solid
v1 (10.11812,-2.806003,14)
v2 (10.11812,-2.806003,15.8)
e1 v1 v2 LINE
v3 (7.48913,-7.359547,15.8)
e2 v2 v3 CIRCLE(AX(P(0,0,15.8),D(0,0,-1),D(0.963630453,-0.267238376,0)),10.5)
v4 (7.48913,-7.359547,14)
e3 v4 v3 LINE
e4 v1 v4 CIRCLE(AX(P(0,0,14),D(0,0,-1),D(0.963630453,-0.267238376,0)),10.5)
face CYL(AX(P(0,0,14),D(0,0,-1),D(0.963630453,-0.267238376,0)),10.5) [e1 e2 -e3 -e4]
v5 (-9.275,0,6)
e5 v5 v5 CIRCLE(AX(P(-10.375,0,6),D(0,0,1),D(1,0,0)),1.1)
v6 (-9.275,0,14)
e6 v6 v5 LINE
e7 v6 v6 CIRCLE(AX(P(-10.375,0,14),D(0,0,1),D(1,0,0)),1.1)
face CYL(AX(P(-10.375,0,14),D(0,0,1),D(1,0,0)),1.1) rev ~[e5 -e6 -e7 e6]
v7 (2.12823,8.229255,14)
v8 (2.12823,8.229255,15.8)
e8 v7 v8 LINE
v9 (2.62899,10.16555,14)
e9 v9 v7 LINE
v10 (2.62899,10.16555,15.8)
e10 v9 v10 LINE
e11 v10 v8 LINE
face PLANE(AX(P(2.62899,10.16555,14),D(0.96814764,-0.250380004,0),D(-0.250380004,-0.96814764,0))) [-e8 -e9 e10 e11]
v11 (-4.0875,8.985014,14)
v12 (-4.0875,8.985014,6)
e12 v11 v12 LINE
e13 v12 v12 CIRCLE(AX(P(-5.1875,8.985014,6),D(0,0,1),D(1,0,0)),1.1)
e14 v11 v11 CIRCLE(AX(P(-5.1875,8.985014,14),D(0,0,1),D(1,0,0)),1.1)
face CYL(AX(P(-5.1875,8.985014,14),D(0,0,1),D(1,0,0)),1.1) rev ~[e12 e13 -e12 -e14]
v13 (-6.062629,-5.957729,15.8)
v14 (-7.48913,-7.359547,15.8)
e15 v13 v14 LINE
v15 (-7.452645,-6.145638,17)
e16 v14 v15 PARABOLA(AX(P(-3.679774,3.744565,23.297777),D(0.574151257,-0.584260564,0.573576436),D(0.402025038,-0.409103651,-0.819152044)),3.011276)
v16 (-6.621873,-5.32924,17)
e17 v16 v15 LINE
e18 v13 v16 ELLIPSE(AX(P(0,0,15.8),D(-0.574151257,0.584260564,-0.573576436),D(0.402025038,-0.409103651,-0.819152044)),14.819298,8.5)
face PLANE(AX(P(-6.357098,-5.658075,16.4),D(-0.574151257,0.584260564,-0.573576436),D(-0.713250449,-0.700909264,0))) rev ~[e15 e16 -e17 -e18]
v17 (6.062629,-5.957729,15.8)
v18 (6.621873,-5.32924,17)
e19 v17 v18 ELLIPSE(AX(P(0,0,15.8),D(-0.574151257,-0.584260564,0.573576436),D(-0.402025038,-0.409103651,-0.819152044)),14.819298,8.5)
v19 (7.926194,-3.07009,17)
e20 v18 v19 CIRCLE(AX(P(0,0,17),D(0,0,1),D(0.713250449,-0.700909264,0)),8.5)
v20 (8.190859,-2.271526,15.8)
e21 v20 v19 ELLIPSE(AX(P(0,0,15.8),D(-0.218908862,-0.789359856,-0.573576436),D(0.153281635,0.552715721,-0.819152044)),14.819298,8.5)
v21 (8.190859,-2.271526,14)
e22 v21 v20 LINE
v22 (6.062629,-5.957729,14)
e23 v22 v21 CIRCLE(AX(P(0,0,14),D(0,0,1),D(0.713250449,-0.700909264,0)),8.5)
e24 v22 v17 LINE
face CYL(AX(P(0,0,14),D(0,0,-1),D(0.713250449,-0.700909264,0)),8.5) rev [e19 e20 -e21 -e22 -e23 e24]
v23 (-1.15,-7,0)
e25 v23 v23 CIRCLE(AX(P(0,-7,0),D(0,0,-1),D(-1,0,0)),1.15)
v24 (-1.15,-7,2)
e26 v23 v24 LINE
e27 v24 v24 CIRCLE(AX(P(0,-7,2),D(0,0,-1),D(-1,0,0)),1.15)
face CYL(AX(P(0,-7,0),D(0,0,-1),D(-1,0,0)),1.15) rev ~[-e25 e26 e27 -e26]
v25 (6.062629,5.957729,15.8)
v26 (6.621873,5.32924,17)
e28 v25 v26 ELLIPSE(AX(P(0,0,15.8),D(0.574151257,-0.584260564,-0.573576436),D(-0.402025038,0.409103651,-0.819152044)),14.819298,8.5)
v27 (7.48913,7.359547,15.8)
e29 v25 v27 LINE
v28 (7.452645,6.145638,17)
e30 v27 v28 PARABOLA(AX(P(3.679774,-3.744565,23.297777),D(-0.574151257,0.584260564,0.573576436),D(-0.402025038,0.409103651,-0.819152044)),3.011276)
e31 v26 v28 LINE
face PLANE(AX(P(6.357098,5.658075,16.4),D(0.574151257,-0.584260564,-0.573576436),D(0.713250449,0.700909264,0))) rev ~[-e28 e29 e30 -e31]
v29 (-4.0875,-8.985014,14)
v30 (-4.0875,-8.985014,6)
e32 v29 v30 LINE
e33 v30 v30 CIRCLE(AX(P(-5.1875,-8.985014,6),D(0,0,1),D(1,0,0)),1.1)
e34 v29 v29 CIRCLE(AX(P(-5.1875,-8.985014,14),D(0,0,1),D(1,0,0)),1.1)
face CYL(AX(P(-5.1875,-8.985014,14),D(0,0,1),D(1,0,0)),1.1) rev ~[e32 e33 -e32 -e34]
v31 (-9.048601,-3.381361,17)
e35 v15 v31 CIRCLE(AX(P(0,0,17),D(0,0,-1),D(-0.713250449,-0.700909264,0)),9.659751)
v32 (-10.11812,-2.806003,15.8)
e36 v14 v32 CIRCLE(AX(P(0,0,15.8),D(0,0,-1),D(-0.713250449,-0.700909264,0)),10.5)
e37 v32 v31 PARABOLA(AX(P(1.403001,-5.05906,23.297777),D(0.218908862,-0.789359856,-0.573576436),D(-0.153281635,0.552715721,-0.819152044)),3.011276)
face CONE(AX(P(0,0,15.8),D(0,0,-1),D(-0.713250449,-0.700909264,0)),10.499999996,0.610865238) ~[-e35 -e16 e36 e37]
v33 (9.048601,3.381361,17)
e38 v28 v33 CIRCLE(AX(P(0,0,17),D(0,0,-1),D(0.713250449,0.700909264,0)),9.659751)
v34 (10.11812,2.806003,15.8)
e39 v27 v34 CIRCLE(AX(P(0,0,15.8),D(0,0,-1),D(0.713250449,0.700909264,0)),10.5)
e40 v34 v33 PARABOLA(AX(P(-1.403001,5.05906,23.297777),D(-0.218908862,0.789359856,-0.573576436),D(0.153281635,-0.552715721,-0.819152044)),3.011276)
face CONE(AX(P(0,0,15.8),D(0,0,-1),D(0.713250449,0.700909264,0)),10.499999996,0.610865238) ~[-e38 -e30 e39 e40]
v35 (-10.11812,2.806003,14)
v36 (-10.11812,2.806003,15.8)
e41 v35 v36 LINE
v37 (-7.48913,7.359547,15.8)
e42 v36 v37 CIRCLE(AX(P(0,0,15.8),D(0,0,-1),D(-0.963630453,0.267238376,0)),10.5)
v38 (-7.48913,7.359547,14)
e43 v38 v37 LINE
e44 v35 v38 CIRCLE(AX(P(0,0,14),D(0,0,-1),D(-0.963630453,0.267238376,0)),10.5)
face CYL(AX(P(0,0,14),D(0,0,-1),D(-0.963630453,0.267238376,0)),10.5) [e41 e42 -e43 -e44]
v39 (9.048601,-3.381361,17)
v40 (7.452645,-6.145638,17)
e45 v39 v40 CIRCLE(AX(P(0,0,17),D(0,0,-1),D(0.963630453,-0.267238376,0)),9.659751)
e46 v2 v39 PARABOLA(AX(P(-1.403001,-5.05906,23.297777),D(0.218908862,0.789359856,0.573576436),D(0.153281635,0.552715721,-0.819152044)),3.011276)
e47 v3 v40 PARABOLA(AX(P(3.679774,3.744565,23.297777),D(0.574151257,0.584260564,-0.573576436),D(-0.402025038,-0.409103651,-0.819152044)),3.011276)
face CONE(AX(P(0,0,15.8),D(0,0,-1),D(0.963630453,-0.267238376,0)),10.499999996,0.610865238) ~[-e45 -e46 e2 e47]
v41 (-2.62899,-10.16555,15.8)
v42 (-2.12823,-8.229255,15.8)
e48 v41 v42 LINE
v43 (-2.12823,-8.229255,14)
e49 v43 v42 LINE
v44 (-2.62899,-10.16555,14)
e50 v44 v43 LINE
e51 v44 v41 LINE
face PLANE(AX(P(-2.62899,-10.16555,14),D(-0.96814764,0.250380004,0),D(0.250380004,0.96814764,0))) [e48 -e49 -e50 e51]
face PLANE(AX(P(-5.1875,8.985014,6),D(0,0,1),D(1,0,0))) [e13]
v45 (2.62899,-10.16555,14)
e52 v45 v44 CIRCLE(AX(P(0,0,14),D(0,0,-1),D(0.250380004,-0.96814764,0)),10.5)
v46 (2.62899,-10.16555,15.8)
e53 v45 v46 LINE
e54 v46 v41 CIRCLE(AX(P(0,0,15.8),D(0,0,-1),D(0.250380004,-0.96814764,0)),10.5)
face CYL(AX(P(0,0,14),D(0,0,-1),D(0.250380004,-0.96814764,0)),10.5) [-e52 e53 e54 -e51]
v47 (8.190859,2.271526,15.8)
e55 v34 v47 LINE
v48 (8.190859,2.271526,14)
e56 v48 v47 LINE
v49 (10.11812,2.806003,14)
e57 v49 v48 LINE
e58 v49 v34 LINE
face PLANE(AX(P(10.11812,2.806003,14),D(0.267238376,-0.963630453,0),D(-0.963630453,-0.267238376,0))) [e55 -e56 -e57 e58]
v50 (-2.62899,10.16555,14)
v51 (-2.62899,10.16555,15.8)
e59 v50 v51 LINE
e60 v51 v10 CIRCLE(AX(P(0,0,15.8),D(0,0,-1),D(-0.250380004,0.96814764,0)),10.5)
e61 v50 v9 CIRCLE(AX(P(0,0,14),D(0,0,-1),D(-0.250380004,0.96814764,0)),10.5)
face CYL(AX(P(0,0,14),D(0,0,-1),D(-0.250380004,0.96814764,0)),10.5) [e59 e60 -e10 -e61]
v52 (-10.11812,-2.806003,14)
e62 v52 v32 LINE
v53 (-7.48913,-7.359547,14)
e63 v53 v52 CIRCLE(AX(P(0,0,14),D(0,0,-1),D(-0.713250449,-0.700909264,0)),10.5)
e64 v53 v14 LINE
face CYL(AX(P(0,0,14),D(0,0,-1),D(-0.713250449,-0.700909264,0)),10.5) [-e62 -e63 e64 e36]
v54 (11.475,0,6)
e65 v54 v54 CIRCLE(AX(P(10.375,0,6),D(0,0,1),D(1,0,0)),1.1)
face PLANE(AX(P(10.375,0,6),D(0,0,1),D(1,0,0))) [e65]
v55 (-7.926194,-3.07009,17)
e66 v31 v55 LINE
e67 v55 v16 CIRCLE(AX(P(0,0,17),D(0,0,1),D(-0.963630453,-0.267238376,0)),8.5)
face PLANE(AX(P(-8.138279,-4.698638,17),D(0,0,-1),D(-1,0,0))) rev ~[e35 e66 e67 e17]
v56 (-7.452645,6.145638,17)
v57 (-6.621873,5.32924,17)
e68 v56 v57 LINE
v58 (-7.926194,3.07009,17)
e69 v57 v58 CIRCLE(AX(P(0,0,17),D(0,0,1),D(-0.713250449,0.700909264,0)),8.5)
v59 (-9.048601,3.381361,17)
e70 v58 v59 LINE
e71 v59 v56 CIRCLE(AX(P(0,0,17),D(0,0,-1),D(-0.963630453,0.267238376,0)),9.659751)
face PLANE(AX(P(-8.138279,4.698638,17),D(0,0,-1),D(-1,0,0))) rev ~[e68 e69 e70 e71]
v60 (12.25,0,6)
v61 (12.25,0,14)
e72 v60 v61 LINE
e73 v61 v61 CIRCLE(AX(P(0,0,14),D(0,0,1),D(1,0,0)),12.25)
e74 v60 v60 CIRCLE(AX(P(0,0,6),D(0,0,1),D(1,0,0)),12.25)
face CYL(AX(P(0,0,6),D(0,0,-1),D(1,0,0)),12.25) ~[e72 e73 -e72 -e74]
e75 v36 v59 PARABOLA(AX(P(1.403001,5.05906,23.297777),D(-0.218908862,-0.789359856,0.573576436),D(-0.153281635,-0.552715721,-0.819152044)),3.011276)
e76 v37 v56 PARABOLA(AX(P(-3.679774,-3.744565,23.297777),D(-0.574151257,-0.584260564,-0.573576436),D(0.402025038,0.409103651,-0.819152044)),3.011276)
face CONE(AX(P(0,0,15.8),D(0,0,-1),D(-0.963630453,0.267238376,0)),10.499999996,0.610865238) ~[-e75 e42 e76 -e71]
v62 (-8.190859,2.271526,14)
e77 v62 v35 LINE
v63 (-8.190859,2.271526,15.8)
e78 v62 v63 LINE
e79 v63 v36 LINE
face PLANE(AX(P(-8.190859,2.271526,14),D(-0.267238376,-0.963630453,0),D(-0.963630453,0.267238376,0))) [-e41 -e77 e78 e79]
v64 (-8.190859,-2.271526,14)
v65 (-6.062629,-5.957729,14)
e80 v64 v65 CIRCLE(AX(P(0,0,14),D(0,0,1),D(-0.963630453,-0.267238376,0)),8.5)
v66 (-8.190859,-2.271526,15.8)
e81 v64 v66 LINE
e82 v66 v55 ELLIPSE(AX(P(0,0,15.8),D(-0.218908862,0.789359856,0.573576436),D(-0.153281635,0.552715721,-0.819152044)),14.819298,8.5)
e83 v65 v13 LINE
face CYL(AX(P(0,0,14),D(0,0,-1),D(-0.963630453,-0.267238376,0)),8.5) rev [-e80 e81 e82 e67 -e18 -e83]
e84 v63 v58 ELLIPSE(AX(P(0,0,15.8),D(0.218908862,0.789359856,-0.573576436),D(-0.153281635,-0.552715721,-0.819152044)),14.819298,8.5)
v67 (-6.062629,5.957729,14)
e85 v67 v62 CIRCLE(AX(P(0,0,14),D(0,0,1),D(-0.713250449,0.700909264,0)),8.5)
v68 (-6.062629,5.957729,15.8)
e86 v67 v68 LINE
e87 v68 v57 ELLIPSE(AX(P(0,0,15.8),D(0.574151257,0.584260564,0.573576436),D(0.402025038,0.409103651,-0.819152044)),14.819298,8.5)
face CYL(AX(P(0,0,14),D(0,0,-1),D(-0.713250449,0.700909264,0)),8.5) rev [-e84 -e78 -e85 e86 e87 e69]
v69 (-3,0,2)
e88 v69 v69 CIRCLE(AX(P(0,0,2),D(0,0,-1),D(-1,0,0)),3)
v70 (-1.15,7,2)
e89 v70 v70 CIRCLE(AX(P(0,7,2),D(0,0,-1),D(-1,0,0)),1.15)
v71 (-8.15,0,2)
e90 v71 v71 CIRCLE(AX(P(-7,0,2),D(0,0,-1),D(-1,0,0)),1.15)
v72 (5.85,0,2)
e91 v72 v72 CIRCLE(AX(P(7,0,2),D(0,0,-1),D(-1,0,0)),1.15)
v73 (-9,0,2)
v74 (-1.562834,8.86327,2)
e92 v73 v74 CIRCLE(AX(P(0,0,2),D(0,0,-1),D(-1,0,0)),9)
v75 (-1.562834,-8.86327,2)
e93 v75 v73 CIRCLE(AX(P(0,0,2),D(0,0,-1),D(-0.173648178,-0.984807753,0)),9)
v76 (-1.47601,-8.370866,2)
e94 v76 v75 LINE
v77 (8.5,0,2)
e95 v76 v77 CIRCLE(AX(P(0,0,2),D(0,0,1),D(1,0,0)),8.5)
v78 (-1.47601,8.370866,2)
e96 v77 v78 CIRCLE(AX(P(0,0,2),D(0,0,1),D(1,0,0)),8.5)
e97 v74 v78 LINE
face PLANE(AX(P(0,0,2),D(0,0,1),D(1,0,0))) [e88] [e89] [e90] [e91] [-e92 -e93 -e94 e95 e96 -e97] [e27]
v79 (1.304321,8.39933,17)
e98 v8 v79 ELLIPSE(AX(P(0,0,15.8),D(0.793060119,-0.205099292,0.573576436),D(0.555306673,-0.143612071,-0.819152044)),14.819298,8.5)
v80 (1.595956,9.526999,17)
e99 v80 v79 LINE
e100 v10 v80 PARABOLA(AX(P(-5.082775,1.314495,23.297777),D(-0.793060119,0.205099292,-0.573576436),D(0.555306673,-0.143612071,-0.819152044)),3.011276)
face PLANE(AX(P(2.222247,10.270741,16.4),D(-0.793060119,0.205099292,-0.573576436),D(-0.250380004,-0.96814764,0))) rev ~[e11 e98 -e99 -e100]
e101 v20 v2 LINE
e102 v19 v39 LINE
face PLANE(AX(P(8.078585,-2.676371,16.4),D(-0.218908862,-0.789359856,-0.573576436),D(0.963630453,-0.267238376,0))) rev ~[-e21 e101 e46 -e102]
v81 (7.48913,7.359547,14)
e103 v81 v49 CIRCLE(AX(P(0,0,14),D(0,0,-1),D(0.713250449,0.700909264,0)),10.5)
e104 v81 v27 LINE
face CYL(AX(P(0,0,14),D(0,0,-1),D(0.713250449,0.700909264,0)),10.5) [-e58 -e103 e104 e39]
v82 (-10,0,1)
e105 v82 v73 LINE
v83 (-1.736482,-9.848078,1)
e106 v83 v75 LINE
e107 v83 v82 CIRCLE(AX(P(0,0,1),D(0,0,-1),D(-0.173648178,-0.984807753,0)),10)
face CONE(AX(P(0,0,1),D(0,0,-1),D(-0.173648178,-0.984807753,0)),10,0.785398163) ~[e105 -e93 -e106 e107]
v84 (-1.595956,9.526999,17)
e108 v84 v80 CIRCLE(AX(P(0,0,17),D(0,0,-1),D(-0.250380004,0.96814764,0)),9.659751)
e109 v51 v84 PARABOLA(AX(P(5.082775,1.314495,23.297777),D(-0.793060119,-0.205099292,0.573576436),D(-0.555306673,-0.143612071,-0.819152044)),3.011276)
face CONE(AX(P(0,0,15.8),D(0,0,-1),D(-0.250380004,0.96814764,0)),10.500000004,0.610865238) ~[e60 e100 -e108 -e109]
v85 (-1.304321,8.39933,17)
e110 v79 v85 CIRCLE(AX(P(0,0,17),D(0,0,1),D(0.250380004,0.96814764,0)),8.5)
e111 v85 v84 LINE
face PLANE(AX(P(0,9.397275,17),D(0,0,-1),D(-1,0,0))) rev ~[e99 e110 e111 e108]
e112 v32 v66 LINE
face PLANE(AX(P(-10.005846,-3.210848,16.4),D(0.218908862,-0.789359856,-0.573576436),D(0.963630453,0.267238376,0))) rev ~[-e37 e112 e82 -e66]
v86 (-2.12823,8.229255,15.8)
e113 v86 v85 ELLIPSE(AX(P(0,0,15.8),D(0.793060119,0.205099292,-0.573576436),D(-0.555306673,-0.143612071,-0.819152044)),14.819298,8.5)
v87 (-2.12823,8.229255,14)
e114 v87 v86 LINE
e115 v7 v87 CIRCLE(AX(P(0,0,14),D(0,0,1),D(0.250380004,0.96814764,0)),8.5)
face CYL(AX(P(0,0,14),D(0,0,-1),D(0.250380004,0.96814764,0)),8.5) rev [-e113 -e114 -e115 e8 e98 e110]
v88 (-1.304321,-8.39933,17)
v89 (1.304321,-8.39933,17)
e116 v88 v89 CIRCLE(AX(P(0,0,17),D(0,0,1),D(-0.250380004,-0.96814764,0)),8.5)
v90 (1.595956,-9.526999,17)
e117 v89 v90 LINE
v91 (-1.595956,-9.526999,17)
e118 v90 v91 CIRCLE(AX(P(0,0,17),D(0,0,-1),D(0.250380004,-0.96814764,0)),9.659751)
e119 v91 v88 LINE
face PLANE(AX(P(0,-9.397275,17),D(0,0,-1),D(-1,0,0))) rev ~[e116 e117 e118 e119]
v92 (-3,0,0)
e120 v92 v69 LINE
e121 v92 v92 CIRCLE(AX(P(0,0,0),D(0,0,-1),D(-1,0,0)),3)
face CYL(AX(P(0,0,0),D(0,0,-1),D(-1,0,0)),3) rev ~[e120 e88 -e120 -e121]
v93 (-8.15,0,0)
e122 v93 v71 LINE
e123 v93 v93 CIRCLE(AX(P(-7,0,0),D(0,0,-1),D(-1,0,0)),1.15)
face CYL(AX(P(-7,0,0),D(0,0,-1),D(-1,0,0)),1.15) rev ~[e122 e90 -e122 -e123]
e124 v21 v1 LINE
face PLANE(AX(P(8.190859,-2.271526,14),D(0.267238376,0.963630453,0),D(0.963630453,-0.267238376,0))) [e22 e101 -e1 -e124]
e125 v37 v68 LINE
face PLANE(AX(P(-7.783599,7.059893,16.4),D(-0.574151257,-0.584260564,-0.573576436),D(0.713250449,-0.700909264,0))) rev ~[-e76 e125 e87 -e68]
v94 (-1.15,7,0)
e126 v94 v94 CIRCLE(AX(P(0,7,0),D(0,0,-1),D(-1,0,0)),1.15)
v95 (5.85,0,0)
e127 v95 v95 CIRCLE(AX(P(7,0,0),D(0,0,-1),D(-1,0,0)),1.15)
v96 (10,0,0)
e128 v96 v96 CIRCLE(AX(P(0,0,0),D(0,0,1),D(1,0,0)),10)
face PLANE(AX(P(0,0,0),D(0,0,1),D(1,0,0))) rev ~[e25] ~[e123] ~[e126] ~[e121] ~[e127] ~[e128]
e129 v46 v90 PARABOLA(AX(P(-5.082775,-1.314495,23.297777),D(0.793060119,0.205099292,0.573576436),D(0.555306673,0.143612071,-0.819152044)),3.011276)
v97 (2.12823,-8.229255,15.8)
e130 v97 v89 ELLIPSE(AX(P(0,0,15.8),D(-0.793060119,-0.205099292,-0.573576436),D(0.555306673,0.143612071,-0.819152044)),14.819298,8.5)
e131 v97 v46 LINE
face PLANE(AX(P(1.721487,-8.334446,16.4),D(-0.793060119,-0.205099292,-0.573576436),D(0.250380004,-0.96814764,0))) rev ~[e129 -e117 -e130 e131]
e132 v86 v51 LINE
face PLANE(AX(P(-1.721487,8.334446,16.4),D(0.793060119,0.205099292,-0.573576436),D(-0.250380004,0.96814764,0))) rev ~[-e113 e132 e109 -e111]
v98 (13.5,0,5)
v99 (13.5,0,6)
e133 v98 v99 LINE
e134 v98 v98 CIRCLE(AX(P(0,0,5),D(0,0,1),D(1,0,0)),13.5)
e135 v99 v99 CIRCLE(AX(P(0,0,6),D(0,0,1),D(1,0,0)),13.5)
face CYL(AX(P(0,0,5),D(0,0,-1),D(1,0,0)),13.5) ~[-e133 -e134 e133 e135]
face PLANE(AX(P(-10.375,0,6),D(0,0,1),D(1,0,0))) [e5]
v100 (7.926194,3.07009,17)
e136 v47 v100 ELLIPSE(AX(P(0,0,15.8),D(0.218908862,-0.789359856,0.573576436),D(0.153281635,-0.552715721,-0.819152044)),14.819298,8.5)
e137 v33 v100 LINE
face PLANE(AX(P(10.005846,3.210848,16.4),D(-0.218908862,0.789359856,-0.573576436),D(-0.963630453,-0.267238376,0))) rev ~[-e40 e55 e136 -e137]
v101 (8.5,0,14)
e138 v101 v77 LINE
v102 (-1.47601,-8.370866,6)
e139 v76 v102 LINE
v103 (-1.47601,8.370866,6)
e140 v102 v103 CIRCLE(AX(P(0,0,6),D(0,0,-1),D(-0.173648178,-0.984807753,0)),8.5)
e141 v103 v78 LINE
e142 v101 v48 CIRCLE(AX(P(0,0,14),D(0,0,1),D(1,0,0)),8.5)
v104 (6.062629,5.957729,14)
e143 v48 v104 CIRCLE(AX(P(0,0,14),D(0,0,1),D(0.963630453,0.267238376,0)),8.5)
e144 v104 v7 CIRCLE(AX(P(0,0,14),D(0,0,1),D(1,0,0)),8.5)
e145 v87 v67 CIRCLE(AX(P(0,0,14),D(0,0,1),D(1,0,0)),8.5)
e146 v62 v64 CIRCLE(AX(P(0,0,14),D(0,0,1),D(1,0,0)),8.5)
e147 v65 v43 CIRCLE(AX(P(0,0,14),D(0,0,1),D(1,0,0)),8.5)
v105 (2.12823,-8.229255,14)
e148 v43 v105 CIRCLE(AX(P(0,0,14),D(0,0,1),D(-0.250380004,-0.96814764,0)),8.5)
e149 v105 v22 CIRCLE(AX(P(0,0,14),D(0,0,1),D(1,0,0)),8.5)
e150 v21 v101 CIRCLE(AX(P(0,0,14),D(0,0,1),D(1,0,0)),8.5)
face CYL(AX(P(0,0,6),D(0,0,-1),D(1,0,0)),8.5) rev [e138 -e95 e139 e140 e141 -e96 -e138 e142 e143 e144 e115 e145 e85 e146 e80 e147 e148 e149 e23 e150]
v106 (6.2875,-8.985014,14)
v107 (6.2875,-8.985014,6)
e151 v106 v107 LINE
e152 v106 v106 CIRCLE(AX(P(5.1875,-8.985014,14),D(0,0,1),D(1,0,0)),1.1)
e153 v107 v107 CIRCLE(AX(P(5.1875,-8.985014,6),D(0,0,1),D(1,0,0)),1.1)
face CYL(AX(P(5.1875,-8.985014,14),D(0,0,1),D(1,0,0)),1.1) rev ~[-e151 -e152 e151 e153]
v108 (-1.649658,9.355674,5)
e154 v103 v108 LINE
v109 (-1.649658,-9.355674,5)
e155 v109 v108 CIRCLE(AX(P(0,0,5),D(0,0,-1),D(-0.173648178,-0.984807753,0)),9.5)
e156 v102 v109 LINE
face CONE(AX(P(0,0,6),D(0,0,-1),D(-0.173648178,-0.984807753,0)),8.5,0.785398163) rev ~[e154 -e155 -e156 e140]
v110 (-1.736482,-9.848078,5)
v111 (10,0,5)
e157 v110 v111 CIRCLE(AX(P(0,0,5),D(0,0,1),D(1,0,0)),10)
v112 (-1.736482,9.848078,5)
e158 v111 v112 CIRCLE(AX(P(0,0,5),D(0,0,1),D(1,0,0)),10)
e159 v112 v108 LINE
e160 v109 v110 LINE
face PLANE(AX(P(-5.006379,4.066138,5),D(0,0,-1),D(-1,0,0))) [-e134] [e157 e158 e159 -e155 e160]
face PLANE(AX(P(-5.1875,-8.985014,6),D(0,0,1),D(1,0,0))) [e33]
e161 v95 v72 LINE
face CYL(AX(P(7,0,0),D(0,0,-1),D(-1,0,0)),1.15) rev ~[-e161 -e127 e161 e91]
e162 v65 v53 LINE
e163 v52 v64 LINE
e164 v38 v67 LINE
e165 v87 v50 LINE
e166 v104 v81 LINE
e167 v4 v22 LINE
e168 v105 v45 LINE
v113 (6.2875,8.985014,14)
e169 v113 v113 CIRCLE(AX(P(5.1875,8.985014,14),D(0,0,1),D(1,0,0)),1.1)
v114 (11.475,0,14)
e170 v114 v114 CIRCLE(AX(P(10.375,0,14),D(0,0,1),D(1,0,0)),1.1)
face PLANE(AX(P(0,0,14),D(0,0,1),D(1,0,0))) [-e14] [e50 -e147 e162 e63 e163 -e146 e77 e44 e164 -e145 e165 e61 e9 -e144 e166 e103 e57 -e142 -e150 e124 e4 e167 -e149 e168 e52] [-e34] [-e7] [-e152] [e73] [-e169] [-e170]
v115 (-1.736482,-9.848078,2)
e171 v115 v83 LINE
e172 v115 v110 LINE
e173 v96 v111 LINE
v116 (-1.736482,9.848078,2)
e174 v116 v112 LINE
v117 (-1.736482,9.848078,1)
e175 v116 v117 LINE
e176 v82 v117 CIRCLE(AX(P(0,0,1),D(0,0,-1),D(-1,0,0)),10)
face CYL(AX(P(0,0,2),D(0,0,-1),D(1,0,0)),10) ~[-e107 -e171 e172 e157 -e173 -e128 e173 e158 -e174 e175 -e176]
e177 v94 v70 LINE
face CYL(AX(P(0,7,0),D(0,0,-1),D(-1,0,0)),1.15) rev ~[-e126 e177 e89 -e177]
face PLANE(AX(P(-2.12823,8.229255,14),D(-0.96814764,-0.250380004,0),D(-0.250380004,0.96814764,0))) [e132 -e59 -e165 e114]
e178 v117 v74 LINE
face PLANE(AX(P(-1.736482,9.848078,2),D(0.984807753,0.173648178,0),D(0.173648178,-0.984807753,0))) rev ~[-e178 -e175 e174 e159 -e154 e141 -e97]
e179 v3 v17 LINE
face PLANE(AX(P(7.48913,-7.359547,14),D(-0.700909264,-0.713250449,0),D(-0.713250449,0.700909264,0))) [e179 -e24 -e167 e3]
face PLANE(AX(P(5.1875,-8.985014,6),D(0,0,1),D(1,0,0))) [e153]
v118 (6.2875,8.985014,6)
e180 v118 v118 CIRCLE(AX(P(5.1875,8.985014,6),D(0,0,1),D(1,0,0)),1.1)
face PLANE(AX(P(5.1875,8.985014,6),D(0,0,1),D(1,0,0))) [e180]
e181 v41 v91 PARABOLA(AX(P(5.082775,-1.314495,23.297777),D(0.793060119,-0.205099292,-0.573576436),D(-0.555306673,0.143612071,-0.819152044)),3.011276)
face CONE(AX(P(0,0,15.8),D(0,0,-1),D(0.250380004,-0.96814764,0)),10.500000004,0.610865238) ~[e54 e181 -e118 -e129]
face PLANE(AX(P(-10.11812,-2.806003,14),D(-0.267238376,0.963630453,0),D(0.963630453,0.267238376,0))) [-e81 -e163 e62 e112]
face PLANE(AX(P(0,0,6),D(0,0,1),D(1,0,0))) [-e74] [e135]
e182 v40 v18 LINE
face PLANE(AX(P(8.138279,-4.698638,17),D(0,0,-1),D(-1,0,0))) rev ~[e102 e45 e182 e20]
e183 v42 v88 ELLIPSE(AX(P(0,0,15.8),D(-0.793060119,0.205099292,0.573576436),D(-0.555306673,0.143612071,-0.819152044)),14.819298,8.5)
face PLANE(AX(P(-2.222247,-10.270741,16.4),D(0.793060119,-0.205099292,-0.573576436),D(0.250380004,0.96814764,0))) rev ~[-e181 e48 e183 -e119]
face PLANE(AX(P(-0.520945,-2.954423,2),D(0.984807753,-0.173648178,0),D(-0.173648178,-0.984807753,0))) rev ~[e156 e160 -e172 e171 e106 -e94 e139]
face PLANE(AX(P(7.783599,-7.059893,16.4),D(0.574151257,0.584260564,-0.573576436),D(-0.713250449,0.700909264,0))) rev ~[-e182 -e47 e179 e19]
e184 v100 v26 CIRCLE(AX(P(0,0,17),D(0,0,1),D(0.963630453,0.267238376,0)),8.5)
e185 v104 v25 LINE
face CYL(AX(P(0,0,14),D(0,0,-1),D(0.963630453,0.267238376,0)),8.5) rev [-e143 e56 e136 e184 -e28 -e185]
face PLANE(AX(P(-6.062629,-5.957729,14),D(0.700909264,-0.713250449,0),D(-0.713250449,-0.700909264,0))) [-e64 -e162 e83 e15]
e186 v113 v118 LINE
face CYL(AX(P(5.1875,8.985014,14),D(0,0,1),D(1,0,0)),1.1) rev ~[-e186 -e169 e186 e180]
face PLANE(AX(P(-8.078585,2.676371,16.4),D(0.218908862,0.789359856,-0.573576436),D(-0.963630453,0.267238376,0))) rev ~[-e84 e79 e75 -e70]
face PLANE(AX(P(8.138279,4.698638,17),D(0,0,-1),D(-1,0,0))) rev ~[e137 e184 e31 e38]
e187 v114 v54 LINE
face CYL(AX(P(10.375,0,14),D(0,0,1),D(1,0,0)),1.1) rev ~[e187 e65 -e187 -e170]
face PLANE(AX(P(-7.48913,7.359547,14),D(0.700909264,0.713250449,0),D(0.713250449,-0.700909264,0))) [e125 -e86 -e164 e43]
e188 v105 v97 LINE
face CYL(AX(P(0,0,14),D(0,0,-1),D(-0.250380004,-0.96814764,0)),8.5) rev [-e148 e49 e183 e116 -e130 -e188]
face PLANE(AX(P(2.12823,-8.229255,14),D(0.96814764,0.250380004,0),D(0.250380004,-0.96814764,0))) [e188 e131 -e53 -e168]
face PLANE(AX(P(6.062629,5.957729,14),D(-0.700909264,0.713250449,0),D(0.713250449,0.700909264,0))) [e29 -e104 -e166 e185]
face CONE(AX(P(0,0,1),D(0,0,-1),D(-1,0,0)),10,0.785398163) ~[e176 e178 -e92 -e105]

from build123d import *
from OCP.BRepFilletAPI import BRepFilletAPI_MakeChamfer

# Parameters (mm, degrees)
SKETCH_1_R          = 10
EXTRUDE_1_DEPTH     = 2
SKETCH_2_R          = 10
SKETCH_2_R_2        = 8.5
EXTRUDE_2_DEPTH     = 3
SKETCH_4_R          = 13.5
SKETCH_4_R_2        = 8.5
EXTRUDE_3_DEPTH     = 1
SKETCH_5_R          = 12.25
SKETCH_5_R_2        = 8.5
EXTRUDE_4_DEPTH     = 8
SKETCH_6_R          = 1.1
CUT_EXTRUDE_1_DEPTH = 8
SKETCH_7_R          = 3
SKETCH_7_R_2        = 1.15
CUT_EXTRUDE_2_DEPTH = 24.674881204
EXTRUDE_5_DEPTH     = 3
CHAMFER_1_SIZE      = 1.2
CHAMFER_1_SIZE2     = 0.840249046
CUT_EXTRUDE_START   = -2
CUT_EXTRUDE_3_DEPTH = 3
CHAMFER_2_SIZE      = 1


with BuildPart() as part:
    # 스케치1 → 보스-돌출1 (new body)
    with BuildSketch(Plane.XY):
        Circle(SKETCH_1_R)
    extrude(amount=EXTRUDE_1_DEPTH)

    # 스케치2 → 보스-돌출2 (add)
    with BuildSketch(Plane.XY.offset(2)):
        Circle(SKETCH_2_R)
        Circle(SKETCH_2_R_2, mode=Mode.SUBTRACT)
    extrude(amount=EXTRUDE_2_DEPTH)

    # 스케치4 → 보스-돌출3 (add)
    with BuildSketch(Plane.XY.offset(5)):
        Circle(SKETCH_4_R)
        Circle(SKETCH_4_R_2, mode=Mode.SUBTRACT)
    extrude(amount=EXTRUDE_3_DEPTH)

    # 스케치5 → 보스-돌출4 (add)
    with BuildSketch(Plane.XY.offset(6)):
        Circle(SKETCH_5_R)
        Circle(SKETCH_5_R_2, mode=Mode.SUBTRACT)
    extrude(amount=EXTRUDE_4_DEPTH)

    # 스케치6 → 컷-돌출1 (cut)
    with BuildSketch(Plane.XY.offset(14)):
        with Locations((10.375, 0)):
            Circle(SKETCH_6_R)
        with Locations((5.1875, -8.985013564)):
            Circle(SKETCH_6_R)
        with Locations((-5.1875, -8.985013564)):
            Circle(SKETCH_6_R)
        with Locations((-10.375, 0)):
            Circle(SKETCH_6_R)
        with Locations((-5.1875, 8.985013564)):
            Circle(SKETCH_6_R)
        with Locations((5.1875, 8.985013564)):
            Circle(SKETCH_6_R)
    extrude(amount=-CUT_EXTRUDE_1_DEPTH, mode=Mode.SUBTRACT)

    # 스케치7 → 컷-돌출2 (cut, through all)
    with BuildSketch(Plane(origin=(0, 0, 0), x_dir=(-1, 0, 0), z_dir=(0, 0, -1))):
        Circle(SKETCH_7_R)
        with Locations((-7, 0)):
            Circle(SKETCH_7_R_2)
        with Locations((7, 0)):
            Circle(SKETCH_7_R_2)
        with Locations((0, 7)):
            Circle(SKETCH_7_R_2)
        with Locations((0, -7)):
            Circle(SKETCH_7_R_2)
    extrude(amount=-CUT_EXTRUDE_2_DEPTH, mode=Mode.SUBTRACT)

    # 스케치10 → 보스-돌출5 (add)
    with BuildSketch(Plane.XY.offset(14)):
        with BuildLine():
            Line((-2.128230034, 8.229254943), (-2.628990043, 10.165550224))
            ThreePointArc((-2.628990043, 10.165550224), (0, 10.5), (2.628990043, 10.165550224))
            Line((2.628990043, 10.165550224), (2.128230034, 8.229254943))
            ThreePointArc((2.128230034, 8.229254943), (0, 8.5), (-2.128230034, 8.229254943))
        make_face()
        with BuildLine():
            Line((6.062628818, 5.957728747), (7.489129716, 7.359547275))
            ThreePointArc((7.489129716, 7.359547275), (9.09326674, 5.25), (10.118119759, 2.806002949))
            Line((10.118119759, 2.806002949), (8.190858852, 2.271526197))
            ThreePointArc((8.190858852, 2.271526197), (7.361215932, 4.25), (6.062628818, 5.957728747))
        make_face()
        with BuildLine():
            Line((-8.190858852, 2.271526197), (-10.118119759, 2.806002949))
            ThreePointArc((-10.118119759, 2.806002949), (-9.09326674, 5.25), (-7.489129716, 7.359547275))
            Line((-7.489129716, 7.359547275), (-6.062628818, 5.957728747))
            ThreePointArc((-6.062628818, 5.957728747), (-7.361215932, 4.25), (-8.190858852, 2.271526197))
        make_face()
        with BuildLine():
            Line((8.190858852, -2.271526197), (10.118119759, -2.806002949))
            ThreePointArc((10.118119759, -2.806002949), (9.09326674, -5.25), (7.489129716, -7.359547275))
            Line((7.489129716, -7.359547275), (6.062628818, -5.957728747))
            ThreePointArc((6.062628818, -5.957728747), (7.361215932, -4.25), (8.190858852, -2.271526197))
        make_face()
        with BuildLine():
            Line((2.128230034, -8.229254943), (2.628990043, -10.165550224))
            ThreePointArc((2.628990043, -10.165550224), (0, -10.5), (-2.628990043, -10.165550224))
            Line((-2.628990043, -10.165550224), (-2.128230034, -8.229254943))
            ThreePointArc((-2.128230034, -8.229254943), (0, -8.5), (2.128230034, -8.229254943))
        make_face()
        with BuildLine():
            Line((-6.062628818, -5.957728747), (-7.489129716, -7.359547275))
            ThreePointArc((-7.489129716, -7.359547275), (-9.09326674, -5.25), (-10.118119759, -2.806002949))
            Line((-10.118119759, -2.806002949), (-8.190858852, -2.271526197))
            ThreePointArc((-8.190858852, -2.271526197), (-7.361215932, -4.25), (-6.062628818, -5.957728747))
        make_face()
    extrude(amount=EXTRUDE_5_DEPTH)

    # 모따기1: one chamfer whose edges measure the first distance from different faces: ONE call of the kernel's chamfer builder (chamfer() names one face for all edges)
    chamfer_1_edges_1 = [part.edges().sort_by_distance(p)[0] for p in [
        (9.09326674, 5.25, 17),
    ]]
    chamfer_1_side_1 = [part.faces().sort_by_distance(p)[0] for p in [
        (9.09326674, 5.25, 15.5),
    ]]
    chamfer_1_edges_2 = [part.edges().sort_by_distance(p)[0] for p in [
        (6.775879267, 6.658638011, 17),
    ]]
    chamfer_1_side_2 = [part.faces().sort_by_distance(p)[0] for p in [
        (6.775879267, 6.658638011, 15.5),
    ]]
    chamfer_1_edges_3 = [part.edges().sort_by_distance(p)[0] for p in [
        (9.154489305, 2.538764573, 17),
    ]]
    chamfer_1_side_3 = [part.faces().sort_by_distance(p)[0] for p in [
        (9.154489305, 2.538764573, 15.5),
    ]]
    chamfer_1_edges_4 = [part.edges().sort_by_distance(p)[0] for p in [
        (-2.378610039, -9.197402584, 17),
    ]]
    chamfer_1_side_4 = [part.faces().sort_by_distance(p)[0] for p in [
        (-2.378610039, -9.197402584, 15.5),
    ]]
    chamfer_1_edges_5 = [part.edges().sort_by_distance(p)[0] for p in [
        (0, -10.5, 17),
    ]]
    chamfer_1_side_5 = [part.faces().sort_by_distance(p)[0] for p in [
        (0, -10.5, 15.5),
    ]]
    chamfer_1_edges_6 = [part.edges().sort_by_distance(p)[0] for p in [
        (2.378610039, -9.197402584, 17),
    ]]
    chamfer_1_side_6 = [part.faces().sort_by_distance(p)[0] for p in [
        (2.378610039, -9.197402584, 15.5),
    ]]
    chamfer_1_edges_7 = [part.edges().sort_by_distance(p)[0] for p in [
        (9.09326674, -5.25, 17),
    ]]
    chamfer_1_side_7 = [part.faces().sort_by_distance(p)[0] for p in [
        (9.09326674, -5.25, 15.5),
    ]]
    chamfer_1_edges_8 = [part.edges().sort_by_distance(p)[0] for p in [
        (9.154489305, -2.538764573, 17),
    ]]
    chamfer_1_side_8 = [part.faces().sort_by_distance(p)[0] for p in [
        (9.154489305, -2.538764573, 15.5),
    ]]
    chamfer_1_edges_9 = [part.edges().sort_by_distance(p)[0] for p in [
        (6.775879267, -6.658638011, 17),
    ]]
    chamfer_1_side_9 = [part.faces().sort_by_distance(p)[0] for p in [
        (6.775879267, -6.658638011, 15.5),
    ]]
    chamfer_1_edges_10 = [part.edges().sort_by_distance(p)[0] for p in [
        (2.378610039, 9.197402584, 17),
    ]]
    chamfer_1_side_10 = [part.faces().sort_by_distance(p)[0] for p in [
        (2.378610039, 9.197402584, 15.5),
    ]]
    chamfer_1_edges_11 = [part.edges().sort_by_distance(p)[0] for p in [
        (0, 10.5, 17),
    ]]
    chamfer_1_side_11 = [part.faces().sort_by_distance(p)[0] for p in [
        (0, 10.5, 15.5),
    ]]
    chamfer_1_edges_12 = [part.edges().sort_by_distance(p)[0] for p in [
        (-2.378610039, 9.197402584, 17),
    ]]
    chamfer_1_side_12 = [part.faces().sort_by_distance(p)[0] for p in [
        (-2.378610039, 9.197402584, 15.5),
    ]]
    chamfer_1_edges_13 = [part.edges().sort_by_distance(p)[0] for p in [
        (-6.775879267, 6.658638011, 17),
    ]]
    chamfer_1_side_13 = [part.faces().sort_by_distance(p)[0] for p in [
        (-6.775879267, 6.658638011, 15.5),
    ]]
    chamfer_1_edges_14 = [part.edges().sort_by_distance(p)[0] for p in [
        (-9.09326674, 5.25, 17),
    ]]
    chamfer_1_side_14 = [part.faces().sort_by_distance(p)[0] for p in [
        (-9.09326674, 5.25, 15.5),
    ]]
    chamfer_1_edges_15 = [part.edges().sort_by_distance(p)[0] for p in [
        (-9.154489305, 2.538764573, 17),
    ]]
    chamfer_1_side_15 = [part.faces().sort_by_distance(p)[0] for p in [
        (-9.154489305, 2.538764573, 15.5),
    ]]
    chamfer_1_edges_16 = [part.edges().sort_by_distance(p)[0] for p in [
        (-9.154489305, -2.538764573, 17),
    ]]
    chamfer_1_side_16 = [part.faces().sort_by_distance(p)[0] for p in [
        (-9.154489305, -2.538764573, 15.5),
    ]]
    chamfer_1_edges_17 = [part.edges().sort_by_distance(p)[0] for p in [
        (-9.09326674, -5.25, 17),
    ]]
    chamfer_1_side_17 = [part.faces().sort_by_distance(p)[0] for p in [
        (-9.09326674, -5.25, 15.5),
    ]]
    chamfer_1_edges_18 = [part.edges().sort_by_distance(p)[0] for p in [
        (-6.775879267, -6.658638011, 17),
    ]]
    chamfer_1_side_18 = [part.faces().sort_by_distance(p)[0] for p in [
        (-6.775879267, -6.658638011, 15.5),
    ]]
    chamfer_1 = BRepFilletAPI_MakeChamfer(part.part.solid().wrapped)
    for e in chamfer_1_edges_1:
        chamfer_1.Add(CHAMFER_1_SIZE, CHAMFER_1_SIZE2, e.wrapped, chamfer_1_side_1[0].wrapped)  # the first distance lies on this face
    for e in chamfer_1_edges_2:
        chamfer_1.Add(CHAMFER_1_SIZE, CHAMFER_1_SIZE2, e.wrapped, chamfer_1_side_2[0].wrapped)  # the first distance lies on this face
    for e in chamfer_1_edges_3:
        chamfer_1.Add(CHAMFER_1_SIZE, CHAMFER_1_SIZE2, e.wrapped, chamfer_1_side_3[0].wrapped)  # the first distance lies on this face
    for e in chamfer_1_edges_4:
        chamfer_1.Add(CHAMFER_1_SIZE, CHAMFER_1_SIZE2, e.wrapped, chamfer_1_side_4[0].wrapped)  # the first distance lies on this face
    for e in chamfer_1_edges_5:
        chamfer_1.Add(CHAMFER_1_SIZE, CHAMFER_1_SIZE2, e.wrapped, chamfer_1_side_5[0].wrapped)  # the first distance lies on this face
    for e in chamfer_1_edges_6:
        chamfer_1.Add(CHAMFER_1_SIZE, CHAMFER_1_SIZE2, e.wrapped, chamfer_1_side_6[0].wrapped)  # the first distance lies on this face
    for e in chamfer_1_edges_7:
        chamfer_1.Add(CHAMFER_1_SIZE, CHAMFER_1_SIZE2, e.wrapped, chamfer_1_side_7[0].wrapped)  # the first distance lies on this face
    for e in chamfer_1_edges_8:
        chamfer_1.Add(CHAMFER_1_SIZE, CHAMFER_1_SIZE2, e.wrapped, chamfer_1_side_8[0].wrapped)  # the first distance lies on this face
    for e in chamfer_1_edges_9:
        chamfer_1.Add(CHAMFER_1_SIZE, CHAMFER_1_SIZE2, e.wrapped, chamfer_1_side_9[0].wrapped)  # the first distance lies on this face
    for e in chamfer_1_edges_10:
        chamfer_1.Add(CHAMFER_1_SIZE, CHAMFER_1_SIZE2, e.wrapped, chamfer_1_side_10[0].wrapped)  # the first distance lies on this face
    for e in chamfer_1_edges_11:
        chamfer_1.Add(CHAMFER_1_SIZE, CHAMFER_1_SIZE2, e.wrapped, chamfer_1_side_11[0].wrapped)  # the first distance lies on this face
    for e in chamfer_1_edges_12:
        chamfer_1.Add(CHAMFER_1_SIZE, CHAMFER_1_SIZE2, e.wrapped, chamfer_1_side_12[0].wrapped)  # the first distance lies on this face
    for e in chamfer_1_edges_13:
        chamfer_1.Add(CHAMFER_1_SIZE, CHAMFER_1_SIZE2, e.wrapped, chamfer_1_side_13[0].wrapped)  # the first distance lies on this face
    for e in chamfer_1_edges_14:
        chamfer_1.Add(CHAMFER_1_SIZE, CHAMFER_1_SIZE2, e.wrapped, chamfer_1_side_14[0].wrapped)  # the first distance lies on this face
    for e in chamfer_1_edges_15:
        chamfer_1.Add(CHAMFER_1_SIZE, CHAMFER_1_SIZE2, e.wrapped, chamfer_1_side_15[0].wrapped)  # the first distance lies on this face
    for e in chamfer_1_edges_16:
        chamfer_1.Add(CHAMFER_1_SIZE, CHAMFER_1_SIZE2, e.wrapped, chamfer_1_side_16[0].wrapped)  # the first distance lies on this face
    for e in chamfer_1_edges_17:
        chamfer_1.Add(CHAMFER_1_SIZE, CHAMFER_1_SIZE2, e.wrapped, chamfer_1_side_17[0].wrapped)  # the first distance lies on this face
    for e in chamfer_1_edges_18:
        chamfer_1.Add(CHAMFER_1_SIZE, CHAMFER_1_SIZE2, e.wrapped, chamfer_1_side_18[0].wrapped)  # the first distance lies on this face
    add(Compound.cast(chamfer_1.Shape()), mode=Mode.REPLACE)

    # 스케치11 → 컷-돌출3 (cut)
    with BuildSketch(Plane(origin=(0, 0, 0), x_dir=(-1, 0, 0), z_dir=(0, 0, -1)).offset(CUT_EXTRUDE_START)):
        with BuildLine():
            Line((1.736481777, 9.84807753), (0.520944533, 2.954423259))
            ThreePointArc((0.520944533, 2.954423259), (2.298133329, 1.928362829), (3, 0))
            Line((3, 0), (5.85, 0))
            ThreePointArc((5.85, 0), (7, 1.15), (8.15, 0))
            Line((8.15, 0), (10, 0))
            ThreePointArc((10, 0), (7.660444431, 6.427876097), (1.736481777, 9.84807753))
        make_face()
        with BuildLine():
            ThreePointArc((3, 0), (2.298133329, -1.928362829), (0.520944533, -2.954423259))
            Line((0.520944533, -2.954423259), (1.736481777, -9.84807753))
            ThreePointArc((1.736481777, -9.84807753), (7.660444431, -6.427876097), (10, 0))
            Line((10, 0), (8.15, 0))
            ThreePointArc((8.15, 0), (7, -1.15), (5.85, 0))
            Line((5.85, 0), (3, 0))
        make_face()
    extrude(amount=-CUT_EXTRUDE_3_DEPTH, mode=Mode.SUBTRACT)

    # 모따기2
    chamfer_2_edges = [part.edges().sort_by_distance(p)[0] for p in [
        (-8.5, 0, 5),
        (-10, 0, 2),
    ]]
    chamfer(chamfer_2_edges, length=CHAMFER_2_SIZE)


solid = part.part
